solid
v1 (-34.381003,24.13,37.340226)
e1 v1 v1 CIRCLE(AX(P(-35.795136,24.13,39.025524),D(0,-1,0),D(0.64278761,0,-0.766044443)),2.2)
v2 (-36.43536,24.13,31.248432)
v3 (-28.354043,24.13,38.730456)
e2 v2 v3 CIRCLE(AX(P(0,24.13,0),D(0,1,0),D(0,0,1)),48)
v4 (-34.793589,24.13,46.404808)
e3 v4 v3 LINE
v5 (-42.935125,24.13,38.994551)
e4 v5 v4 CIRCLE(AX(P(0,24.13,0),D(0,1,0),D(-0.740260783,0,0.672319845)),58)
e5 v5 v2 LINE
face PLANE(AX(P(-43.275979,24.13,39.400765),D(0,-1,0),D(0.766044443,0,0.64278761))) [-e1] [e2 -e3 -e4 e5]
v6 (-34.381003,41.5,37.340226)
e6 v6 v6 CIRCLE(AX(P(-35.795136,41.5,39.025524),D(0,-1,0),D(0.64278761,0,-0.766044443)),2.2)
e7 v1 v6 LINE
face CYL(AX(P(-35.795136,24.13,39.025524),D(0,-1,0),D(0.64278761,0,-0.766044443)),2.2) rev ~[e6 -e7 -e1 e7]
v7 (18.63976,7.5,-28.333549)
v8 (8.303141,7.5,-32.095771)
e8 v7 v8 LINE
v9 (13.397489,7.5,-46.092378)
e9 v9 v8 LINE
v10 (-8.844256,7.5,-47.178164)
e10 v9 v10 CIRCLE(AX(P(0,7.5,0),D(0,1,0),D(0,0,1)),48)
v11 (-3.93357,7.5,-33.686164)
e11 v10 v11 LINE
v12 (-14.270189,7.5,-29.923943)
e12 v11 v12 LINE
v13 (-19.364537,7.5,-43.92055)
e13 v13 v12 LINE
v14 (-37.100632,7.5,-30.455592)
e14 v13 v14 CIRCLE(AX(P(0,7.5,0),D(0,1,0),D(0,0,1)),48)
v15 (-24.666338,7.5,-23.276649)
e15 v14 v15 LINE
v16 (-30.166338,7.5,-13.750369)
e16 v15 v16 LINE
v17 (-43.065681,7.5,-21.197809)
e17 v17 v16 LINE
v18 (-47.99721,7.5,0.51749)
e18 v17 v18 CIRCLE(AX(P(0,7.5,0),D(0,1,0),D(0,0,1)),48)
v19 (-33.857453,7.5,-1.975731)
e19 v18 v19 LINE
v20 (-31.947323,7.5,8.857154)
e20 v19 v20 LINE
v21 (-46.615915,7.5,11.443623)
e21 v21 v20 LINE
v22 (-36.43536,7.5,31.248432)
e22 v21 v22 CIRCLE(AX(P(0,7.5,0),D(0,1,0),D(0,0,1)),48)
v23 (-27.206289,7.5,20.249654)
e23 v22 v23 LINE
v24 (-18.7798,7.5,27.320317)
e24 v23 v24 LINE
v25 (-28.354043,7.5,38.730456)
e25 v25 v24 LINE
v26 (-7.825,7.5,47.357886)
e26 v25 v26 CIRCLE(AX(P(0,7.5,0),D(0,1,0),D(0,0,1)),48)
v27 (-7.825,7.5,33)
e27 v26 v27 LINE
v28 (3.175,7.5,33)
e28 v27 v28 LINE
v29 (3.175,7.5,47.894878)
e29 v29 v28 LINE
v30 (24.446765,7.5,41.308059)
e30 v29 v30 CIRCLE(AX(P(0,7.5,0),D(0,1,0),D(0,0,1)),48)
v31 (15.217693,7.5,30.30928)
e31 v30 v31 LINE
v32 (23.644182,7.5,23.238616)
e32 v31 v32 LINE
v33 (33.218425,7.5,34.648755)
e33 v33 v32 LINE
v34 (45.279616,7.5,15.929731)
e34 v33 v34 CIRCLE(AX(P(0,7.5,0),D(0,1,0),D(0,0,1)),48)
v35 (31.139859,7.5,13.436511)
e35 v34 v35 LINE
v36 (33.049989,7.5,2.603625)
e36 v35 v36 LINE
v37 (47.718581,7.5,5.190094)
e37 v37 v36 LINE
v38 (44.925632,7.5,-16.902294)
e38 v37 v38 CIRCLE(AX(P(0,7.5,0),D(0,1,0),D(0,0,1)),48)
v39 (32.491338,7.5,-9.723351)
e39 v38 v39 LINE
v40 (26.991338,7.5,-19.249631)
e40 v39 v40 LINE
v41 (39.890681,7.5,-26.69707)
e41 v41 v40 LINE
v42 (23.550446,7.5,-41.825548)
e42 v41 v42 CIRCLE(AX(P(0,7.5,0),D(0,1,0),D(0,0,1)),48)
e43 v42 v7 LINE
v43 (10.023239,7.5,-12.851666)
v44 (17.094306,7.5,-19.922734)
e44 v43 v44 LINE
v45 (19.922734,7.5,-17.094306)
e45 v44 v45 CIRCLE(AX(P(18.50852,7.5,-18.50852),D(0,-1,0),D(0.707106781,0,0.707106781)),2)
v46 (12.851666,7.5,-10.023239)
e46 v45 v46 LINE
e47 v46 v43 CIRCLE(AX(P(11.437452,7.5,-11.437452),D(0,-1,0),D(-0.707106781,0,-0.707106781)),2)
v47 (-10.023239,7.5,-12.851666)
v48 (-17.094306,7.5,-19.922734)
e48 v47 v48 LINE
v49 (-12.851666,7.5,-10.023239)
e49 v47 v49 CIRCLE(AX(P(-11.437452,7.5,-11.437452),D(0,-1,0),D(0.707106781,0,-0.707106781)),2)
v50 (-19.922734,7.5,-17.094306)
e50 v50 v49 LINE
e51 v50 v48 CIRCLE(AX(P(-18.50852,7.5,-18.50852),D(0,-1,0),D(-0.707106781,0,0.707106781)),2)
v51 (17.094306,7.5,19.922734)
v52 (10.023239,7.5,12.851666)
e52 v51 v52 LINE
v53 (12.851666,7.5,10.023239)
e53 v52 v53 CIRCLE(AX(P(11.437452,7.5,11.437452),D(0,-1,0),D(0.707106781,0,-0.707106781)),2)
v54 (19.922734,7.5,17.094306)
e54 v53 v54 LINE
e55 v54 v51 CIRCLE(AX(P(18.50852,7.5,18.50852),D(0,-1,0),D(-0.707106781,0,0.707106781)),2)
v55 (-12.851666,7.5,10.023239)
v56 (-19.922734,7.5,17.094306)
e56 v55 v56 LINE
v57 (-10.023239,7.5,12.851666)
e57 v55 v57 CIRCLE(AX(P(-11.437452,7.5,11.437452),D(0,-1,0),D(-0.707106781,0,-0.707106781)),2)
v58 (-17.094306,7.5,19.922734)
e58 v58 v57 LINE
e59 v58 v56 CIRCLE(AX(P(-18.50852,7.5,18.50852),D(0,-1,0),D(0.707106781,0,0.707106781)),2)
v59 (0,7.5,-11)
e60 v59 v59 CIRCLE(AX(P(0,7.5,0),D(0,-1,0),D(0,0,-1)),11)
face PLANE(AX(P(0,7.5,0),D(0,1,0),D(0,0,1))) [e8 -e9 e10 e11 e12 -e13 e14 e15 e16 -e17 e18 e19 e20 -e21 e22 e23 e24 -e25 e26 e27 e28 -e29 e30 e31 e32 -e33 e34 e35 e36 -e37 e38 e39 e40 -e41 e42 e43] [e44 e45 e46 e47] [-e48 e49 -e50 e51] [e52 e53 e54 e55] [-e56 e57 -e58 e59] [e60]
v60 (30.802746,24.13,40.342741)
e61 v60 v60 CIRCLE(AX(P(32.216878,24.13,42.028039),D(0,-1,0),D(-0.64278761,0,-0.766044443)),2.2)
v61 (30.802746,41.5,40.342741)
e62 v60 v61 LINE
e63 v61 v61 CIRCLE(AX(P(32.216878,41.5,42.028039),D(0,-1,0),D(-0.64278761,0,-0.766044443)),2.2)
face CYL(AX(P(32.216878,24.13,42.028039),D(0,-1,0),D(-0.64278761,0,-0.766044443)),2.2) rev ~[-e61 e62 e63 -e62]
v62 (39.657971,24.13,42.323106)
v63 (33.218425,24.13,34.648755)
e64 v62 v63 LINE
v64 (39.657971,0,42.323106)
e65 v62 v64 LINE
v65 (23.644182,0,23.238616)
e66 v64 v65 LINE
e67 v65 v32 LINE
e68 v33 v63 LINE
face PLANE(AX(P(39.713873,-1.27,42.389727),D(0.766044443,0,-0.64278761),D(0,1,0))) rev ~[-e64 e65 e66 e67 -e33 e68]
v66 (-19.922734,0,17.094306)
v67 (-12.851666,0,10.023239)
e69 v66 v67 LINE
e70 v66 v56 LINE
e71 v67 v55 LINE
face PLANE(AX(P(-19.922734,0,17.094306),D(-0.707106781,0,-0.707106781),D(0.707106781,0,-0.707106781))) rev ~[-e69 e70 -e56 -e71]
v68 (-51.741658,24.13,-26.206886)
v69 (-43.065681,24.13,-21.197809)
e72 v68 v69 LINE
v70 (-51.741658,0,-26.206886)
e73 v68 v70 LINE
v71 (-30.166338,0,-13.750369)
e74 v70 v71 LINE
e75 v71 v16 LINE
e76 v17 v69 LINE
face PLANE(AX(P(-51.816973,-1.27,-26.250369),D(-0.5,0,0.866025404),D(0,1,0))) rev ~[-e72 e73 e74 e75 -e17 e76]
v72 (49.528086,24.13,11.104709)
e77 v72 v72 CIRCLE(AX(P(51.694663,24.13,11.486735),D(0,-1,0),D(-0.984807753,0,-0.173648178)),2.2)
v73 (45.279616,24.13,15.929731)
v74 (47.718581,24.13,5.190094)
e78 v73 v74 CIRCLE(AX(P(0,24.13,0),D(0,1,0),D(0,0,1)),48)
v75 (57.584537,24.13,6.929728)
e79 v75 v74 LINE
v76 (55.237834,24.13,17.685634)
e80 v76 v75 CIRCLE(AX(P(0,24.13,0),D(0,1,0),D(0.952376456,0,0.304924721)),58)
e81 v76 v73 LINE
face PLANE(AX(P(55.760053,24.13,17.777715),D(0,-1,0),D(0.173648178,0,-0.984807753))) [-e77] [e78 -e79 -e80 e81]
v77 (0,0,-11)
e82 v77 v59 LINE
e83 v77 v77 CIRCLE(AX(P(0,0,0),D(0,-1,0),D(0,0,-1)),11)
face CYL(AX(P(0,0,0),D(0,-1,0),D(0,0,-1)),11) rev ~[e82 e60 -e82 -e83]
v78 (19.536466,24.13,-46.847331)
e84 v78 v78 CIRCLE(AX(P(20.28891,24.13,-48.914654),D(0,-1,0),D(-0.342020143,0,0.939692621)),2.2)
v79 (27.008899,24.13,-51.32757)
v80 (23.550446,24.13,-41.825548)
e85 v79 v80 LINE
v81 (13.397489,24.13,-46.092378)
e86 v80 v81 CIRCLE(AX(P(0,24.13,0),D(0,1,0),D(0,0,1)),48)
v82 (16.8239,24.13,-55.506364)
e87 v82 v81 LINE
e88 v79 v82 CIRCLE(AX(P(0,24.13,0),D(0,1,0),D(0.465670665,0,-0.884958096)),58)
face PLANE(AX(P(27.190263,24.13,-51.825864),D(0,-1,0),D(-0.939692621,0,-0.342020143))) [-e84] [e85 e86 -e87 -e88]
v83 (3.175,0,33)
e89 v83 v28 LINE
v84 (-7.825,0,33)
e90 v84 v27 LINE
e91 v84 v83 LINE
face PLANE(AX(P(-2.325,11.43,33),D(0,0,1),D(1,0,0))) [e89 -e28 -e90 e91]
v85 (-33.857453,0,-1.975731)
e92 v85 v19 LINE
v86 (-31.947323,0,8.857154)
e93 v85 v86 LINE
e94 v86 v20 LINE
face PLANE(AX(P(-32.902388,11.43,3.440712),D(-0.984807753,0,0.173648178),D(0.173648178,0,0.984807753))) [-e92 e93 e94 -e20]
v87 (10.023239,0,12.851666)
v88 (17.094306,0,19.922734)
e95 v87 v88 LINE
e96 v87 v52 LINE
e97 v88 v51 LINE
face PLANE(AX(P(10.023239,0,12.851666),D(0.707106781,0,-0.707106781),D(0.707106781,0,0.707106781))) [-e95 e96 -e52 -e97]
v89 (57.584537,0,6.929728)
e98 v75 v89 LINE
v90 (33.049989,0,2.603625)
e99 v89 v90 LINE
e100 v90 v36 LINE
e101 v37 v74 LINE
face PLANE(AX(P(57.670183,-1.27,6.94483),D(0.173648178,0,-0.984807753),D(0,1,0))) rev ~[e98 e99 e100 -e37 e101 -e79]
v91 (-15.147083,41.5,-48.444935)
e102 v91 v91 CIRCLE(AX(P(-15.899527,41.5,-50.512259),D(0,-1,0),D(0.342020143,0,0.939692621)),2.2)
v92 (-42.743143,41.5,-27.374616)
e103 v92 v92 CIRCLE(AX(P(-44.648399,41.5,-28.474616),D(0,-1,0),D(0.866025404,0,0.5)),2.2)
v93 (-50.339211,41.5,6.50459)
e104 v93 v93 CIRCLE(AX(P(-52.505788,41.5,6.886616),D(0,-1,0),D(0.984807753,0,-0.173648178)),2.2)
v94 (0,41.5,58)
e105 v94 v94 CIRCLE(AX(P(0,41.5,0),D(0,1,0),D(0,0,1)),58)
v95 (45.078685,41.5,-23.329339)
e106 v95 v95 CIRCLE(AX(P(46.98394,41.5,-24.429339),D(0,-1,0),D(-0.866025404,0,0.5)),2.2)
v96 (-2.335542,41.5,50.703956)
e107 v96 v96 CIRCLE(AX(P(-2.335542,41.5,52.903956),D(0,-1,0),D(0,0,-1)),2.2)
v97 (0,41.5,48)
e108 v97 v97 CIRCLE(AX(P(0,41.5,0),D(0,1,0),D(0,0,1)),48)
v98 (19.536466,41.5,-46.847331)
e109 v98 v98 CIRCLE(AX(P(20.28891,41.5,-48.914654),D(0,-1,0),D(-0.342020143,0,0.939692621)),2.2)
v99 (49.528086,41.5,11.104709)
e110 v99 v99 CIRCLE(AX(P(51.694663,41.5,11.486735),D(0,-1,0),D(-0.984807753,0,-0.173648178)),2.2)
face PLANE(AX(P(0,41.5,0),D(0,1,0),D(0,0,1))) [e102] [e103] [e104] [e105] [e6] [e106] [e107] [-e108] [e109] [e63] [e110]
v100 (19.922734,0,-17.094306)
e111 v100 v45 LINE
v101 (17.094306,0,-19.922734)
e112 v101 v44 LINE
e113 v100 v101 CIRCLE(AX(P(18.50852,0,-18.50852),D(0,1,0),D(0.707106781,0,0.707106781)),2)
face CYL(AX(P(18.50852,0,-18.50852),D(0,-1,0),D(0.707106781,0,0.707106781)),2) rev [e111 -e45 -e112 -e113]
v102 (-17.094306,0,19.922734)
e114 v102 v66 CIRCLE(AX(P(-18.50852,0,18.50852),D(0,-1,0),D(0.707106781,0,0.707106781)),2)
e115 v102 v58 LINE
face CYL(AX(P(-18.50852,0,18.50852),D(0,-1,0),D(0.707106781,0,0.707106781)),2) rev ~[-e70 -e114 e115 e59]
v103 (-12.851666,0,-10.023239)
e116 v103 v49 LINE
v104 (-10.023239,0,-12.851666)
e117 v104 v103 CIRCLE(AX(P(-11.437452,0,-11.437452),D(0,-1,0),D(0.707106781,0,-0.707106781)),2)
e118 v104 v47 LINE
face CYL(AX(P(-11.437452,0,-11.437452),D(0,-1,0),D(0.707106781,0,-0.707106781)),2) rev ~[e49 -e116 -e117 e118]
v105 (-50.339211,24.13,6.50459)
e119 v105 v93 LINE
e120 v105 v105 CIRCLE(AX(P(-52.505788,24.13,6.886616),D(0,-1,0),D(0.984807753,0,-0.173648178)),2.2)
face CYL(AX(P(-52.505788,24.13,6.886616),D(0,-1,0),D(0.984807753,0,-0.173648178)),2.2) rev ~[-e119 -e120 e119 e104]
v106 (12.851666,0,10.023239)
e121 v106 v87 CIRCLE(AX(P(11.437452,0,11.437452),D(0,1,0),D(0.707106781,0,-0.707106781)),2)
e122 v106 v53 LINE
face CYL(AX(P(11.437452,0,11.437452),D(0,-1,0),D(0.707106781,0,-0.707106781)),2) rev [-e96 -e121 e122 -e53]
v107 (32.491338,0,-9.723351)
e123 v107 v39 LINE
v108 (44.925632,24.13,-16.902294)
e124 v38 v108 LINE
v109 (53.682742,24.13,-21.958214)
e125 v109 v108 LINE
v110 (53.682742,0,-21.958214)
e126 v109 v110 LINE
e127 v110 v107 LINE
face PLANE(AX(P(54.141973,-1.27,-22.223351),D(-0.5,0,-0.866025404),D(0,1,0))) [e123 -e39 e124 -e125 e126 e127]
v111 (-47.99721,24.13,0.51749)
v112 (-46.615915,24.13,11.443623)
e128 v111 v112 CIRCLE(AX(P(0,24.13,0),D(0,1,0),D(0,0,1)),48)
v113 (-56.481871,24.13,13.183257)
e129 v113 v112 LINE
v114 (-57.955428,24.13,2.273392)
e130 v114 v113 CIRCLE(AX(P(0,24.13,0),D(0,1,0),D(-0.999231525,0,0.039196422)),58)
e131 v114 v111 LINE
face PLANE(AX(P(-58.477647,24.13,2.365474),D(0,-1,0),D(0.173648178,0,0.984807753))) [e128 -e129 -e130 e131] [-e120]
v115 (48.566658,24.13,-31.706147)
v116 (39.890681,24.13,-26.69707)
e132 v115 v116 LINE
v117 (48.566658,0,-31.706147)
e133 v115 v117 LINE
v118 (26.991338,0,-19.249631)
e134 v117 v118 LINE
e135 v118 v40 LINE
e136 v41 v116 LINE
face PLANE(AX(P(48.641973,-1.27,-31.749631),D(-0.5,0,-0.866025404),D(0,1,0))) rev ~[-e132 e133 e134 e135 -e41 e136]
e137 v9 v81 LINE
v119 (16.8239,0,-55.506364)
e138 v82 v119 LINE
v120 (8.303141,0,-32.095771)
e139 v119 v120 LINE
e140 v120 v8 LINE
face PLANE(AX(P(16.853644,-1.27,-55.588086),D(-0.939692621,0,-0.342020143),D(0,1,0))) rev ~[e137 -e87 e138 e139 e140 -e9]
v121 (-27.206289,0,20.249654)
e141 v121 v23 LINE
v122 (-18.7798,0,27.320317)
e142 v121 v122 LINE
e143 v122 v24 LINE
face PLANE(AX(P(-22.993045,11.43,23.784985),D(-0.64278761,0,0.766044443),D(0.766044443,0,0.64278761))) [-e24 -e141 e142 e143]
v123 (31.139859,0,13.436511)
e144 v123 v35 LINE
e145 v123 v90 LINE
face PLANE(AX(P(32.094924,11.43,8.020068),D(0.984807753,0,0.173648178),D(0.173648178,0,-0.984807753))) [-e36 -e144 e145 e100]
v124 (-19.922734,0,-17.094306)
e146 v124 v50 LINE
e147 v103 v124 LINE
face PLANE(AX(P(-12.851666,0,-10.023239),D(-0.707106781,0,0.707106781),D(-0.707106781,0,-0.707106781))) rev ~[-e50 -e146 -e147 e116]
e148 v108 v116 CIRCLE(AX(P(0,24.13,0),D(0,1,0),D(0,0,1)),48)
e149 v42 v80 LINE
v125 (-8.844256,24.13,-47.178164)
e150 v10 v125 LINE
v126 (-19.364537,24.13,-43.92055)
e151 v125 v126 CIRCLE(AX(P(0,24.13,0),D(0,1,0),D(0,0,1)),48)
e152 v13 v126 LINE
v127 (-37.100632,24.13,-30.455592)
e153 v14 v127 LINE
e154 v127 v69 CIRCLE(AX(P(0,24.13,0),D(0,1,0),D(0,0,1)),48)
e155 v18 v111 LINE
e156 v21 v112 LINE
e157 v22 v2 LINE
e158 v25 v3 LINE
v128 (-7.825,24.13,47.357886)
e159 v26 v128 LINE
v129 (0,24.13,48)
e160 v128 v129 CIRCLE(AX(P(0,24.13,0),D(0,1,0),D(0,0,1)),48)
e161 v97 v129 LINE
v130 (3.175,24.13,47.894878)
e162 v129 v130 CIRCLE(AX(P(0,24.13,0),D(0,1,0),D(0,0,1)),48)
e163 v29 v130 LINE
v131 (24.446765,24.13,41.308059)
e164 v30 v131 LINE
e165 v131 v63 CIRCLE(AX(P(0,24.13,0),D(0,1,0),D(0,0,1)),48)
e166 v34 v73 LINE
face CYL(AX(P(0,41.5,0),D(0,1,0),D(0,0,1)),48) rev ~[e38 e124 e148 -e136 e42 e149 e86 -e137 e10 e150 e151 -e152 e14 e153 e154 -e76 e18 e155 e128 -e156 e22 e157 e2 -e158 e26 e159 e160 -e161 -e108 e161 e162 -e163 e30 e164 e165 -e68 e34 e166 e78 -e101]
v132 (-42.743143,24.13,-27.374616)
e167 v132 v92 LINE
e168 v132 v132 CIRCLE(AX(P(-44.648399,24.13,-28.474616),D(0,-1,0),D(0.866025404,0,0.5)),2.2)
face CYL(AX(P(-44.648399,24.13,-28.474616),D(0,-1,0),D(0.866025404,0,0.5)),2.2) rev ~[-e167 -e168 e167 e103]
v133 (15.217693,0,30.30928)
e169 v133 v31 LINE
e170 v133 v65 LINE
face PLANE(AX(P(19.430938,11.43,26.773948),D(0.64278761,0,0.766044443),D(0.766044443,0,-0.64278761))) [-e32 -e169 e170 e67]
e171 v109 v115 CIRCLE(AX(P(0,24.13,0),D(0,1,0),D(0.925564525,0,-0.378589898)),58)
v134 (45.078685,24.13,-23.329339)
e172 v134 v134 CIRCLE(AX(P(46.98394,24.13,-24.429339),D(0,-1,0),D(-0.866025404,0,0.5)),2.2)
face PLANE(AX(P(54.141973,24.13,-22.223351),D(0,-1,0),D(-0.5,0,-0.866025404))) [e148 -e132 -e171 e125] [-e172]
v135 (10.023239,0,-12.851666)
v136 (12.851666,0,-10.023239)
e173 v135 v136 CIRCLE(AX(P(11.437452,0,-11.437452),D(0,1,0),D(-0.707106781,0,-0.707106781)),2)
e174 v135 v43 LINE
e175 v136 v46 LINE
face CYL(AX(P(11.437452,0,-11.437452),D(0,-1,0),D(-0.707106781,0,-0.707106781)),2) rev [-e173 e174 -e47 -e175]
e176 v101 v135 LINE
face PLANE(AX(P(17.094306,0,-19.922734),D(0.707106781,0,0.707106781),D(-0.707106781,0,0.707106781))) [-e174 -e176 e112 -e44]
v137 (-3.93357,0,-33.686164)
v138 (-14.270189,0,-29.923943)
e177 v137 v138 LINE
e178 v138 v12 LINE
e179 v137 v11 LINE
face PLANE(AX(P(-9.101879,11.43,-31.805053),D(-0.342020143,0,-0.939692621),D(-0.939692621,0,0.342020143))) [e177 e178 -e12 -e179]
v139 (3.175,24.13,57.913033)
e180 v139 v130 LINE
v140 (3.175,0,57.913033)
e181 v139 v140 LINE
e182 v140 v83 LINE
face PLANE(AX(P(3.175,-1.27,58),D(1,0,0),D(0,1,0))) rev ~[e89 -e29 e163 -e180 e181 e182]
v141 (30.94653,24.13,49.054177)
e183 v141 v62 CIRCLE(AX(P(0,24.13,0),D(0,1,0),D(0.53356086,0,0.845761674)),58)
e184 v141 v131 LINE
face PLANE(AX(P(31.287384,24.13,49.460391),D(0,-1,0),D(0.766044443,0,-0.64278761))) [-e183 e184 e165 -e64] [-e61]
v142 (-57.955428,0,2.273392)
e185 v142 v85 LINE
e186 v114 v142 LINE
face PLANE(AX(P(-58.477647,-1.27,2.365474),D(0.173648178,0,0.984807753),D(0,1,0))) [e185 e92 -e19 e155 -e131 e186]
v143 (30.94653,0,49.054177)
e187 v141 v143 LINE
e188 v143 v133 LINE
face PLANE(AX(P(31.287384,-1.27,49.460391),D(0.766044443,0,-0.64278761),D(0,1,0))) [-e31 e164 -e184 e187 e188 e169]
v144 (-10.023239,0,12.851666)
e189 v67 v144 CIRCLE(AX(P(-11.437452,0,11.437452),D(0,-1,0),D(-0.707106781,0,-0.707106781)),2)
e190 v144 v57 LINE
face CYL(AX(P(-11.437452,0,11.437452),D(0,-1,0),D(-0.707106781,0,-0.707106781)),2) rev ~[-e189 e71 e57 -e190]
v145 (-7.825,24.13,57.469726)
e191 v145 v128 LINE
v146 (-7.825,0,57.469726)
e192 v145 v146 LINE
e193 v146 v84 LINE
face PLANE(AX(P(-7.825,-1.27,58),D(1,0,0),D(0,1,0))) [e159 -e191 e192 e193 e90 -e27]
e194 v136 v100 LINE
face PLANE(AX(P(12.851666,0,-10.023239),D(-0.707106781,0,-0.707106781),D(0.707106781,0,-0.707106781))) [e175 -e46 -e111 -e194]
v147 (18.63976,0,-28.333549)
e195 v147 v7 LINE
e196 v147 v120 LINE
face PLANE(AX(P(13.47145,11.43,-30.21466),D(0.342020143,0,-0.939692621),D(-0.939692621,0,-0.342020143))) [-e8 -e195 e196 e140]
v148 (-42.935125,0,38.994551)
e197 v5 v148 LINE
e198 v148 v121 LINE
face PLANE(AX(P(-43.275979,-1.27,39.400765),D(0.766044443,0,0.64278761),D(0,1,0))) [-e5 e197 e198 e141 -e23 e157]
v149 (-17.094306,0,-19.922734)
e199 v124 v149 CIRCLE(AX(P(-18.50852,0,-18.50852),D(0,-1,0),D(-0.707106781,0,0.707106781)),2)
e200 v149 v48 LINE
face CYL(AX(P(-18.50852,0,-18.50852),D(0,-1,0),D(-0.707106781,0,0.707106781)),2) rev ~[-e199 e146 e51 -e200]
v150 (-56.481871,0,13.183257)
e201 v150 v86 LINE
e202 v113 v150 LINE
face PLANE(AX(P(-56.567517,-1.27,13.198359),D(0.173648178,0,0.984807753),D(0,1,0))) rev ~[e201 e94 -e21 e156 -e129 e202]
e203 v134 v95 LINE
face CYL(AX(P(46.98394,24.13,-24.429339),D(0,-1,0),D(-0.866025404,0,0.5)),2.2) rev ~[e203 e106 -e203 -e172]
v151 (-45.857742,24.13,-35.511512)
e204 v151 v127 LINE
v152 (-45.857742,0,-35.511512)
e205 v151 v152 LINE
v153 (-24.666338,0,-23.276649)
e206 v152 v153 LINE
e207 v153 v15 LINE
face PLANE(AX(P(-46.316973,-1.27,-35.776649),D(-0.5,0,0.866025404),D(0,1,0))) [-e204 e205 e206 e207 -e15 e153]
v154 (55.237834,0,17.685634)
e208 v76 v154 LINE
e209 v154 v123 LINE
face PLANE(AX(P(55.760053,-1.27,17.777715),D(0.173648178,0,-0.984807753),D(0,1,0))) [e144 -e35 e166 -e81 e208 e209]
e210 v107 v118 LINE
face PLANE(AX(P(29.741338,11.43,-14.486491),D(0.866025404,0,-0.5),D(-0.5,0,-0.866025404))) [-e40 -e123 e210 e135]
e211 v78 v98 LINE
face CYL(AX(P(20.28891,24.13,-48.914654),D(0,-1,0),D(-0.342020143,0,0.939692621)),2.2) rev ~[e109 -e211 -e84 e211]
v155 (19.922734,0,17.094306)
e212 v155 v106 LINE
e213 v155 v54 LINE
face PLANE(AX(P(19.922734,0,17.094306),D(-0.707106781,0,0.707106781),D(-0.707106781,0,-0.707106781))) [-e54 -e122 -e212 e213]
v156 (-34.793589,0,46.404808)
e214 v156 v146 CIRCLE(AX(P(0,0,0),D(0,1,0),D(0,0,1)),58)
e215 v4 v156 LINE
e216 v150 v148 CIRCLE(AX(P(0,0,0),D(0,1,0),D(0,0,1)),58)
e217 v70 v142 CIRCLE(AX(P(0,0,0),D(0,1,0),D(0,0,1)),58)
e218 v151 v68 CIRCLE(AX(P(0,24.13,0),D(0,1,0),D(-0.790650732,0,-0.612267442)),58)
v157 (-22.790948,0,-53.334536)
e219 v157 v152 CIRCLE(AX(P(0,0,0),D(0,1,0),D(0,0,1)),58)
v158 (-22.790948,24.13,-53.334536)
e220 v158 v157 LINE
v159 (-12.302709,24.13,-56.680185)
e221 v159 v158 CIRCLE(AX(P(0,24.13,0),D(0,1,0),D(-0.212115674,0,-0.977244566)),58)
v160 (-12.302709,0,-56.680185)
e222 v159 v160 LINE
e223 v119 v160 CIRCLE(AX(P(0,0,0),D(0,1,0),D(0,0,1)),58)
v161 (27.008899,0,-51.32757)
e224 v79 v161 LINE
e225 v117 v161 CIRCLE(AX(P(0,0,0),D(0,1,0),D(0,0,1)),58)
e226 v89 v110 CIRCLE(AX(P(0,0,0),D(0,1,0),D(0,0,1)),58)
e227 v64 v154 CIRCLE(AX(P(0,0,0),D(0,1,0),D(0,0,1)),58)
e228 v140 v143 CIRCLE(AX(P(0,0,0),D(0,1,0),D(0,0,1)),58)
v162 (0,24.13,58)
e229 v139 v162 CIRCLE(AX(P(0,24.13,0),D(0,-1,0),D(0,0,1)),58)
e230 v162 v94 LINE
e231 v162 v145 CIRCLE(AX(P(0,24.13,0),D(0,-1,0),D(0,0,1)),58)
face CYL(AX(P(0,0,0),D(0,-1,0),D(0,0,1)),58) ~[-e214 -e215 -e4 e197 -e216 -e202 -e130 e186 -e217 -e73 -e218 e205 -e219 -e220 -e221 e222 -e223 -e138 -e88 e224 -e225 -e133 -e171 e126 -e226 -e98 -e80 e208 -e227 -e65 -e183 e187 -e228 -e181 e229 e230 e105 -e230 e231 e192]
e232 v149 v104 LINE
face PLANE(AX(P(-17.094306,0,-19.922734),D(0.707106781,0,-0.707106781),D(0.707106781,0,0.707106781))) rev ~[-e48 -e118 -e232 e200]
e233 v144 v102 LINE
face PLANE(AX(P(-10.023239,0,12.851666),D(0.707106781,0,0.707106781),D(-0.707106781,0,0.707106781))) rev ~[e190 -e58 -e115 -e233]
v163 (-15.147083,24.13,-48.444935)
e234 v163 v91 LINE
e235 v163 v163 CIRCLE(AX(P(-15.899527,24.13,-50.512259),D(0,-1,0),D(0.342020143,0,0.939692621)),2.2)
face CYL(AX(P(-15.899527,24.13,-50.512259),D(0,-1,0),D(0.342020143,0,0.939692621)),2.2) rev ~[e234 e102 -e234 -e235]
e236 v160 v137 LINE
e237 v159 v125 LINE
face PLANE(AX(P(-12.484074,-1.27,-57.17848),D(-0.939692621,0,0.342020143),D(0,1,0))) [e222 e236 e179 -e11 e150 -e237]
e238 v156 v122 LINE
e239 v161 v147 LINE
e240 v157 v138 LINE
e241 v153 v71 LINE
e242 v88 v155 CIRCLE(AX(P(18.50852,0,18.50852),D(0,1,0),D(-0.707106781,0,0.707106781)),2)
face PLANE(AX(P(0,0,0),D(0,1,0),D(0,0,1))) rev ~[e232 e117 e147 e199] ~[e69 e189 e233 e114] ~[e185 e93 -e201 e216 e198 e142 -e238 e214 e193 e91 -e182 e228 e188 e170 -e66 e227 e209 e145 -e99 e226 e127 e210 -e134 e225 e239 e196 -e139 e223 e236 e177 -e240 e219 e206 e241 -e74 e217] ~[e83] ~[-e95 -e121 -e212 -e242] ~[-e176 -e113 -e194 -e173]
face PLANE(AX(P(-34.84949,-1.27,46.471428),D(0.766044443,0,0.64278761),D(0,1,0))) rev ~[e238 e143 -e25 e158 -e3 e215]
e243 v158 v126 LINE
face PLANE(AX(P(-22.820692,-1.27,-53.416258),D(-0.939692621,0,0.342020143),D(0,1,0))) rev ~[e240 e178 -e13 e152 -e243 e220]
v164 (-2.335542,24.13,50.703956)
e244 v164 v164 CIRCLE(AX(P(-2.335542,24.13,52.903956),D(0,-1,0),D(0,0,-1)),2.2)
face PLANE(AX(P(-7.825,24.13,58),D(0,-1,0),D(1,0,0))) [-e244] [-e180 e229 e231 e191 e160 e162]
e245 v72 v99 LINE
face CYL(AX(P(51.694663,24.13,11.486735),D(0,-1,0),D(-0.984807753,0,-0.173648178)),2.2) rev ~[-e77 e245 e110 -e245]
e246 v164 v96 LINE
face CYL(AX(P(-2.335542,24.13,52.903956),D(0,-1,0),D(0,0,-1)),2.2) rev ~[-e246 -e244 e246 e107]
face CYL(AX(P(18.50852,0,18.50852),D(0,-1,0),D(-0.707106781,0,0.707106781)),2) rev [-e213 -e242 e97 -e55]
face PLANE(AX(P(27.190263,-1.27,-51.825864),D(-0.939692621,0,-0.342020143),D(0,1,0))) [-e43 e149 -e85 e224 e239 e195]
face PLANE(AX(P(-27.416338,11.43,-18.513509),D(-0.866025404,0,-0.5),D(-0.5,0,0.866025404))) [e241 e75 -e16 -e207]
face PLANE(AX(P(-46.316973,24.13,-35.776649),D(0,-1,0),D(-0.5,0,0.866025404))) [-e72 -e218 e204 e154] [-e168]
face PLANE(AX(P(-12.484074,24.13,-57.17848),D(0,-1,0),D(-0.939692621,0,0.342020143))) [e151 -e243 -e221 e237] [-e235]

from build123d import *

# Parameters (mm, degrees)
SKETCH2_R           = 58
BOSS_EXTRUDE1_DEPTH = 41.5
SKETCH3_R           = 48
CUT_EXTRUDE1_DEPTH  = 34
SKETCH4_R           = 3.175
CUT_EXTRUDE2_DEPTH  = 89.791891522
CUT_EXTRUDE3_DEPTH  = 92.925241365
SKETCH6_W           = 11
SKETCH6_H           = 25.4
CUT_EXTRUDE4_DEPTH  = 25
CIRPATTERN1_COUNT   = 9
SKETCH7_R           = 2.2
CUT_EXTRUDE5_DEPTH  = 86.500040351
CIRPATTERN2_COUNT   = 9
SKETCH8_R           = 11
CUT_EXTRUDE6_DEPTH  = 92.925241365


with BuildPart() as part:
    # Sketch2 → Boss-Extrude1 (new body)
    with BuildSketch(Plane(origin=(0, 0, 0), x_dir=(1, 0, 0), z_dir=(0, 1, 0))):
        with Locations(Location((0, 0, 0), (0, 0, 270))):
            Circle(SKETCH2_R)
    extrude(amount=BOSS_EXTRUDE1_DEPTH)

    # Sketch3 → Cut-Extrude1 (cut)
    with BuildSketch(Plane(origin=(0, 41.5, 0), x_dir=(1, 0, 0), z_dir=(0, 1, 0))):
        with Locations(Location((0, 0, 0), (0, 0, 270))):
            Circle(SKETCH3_R)
    extrude(amount=-CUT_EXTRUDE1_DEPTH, mode=Mode.SUBTRACT)

    # Sketch4 → Cut-Extrude2 (cut, through all)
    with BuildSketch(Plane(origin=(0, 7.5, 0), x_dir=(1, 0, 0), z_dir=(0, 1, 0))):
        with Locations(Location((0, 0, 0), (0, 0, 270))):
            Circle(SKETCH4_R)
    extrude(amount=-CUT_EXTRUDE2_DEPTH, mode=Mode.SUBTRACT)

    # Sketch5 → Cut-Extrude3 (cut, through all)
    with BuildSketch(Plane.XZ):
        with BuildLine():
            Line((12.851665748, -10.023238623), (19.92273356, -17.094306435))
            ThreePointArc((19.92273356, -17.094306435), (19.92273356, -19.92273356), (17.094306435, -19.92273356))
            Line((17.094306435, -19.92273356), (10.023238623, -12.851665748))
            ThreePointArc((10.023238623, -12.851665748), (10.023238623, -10.023238623), (12.851665748, -10.023238623))
        make_face()
        with BuildLine():
            Line((10.023238623, 12.851665748), (17.094306435, 19.92273356))
            ThreePointArc((17.094306435, 19.92273356), (19.92273356, 19.92273356), (19.92273356, 17.094306435))
            Line((19.92273356, 17.094306435), (12.851665748, 10.023238623))
            ThreePointArc((12.851665748, 10.023238623), (10.023238623, 10.023238623), (10.023238623, 12.851665748))
        make_face()
        with BuildLine():
            Line((-10.023238623, 12.851665748), (-17.094306435, 19.92273356))
            ThreePointArc((-17.094306435, 19.92273356), (-19.92273356, 19.92273356), (-19.92273356, 17.094306435))
            Line((-19.92273356, 17.094306435), (-12.851665748, 10.023238623))
            ThreePointArc((-12.851665748, 10.023238623), (-10.023238623, 10.023238623), (-10.023238623, 12.851665748))
        make_face()
        with BuildLine():
            Line((-12.851665748, -10.023238623), (-19.92273356, -17.094306435))
            ThreePointArc((-19.92273356, -17.094306435), (-19.92273356, -19.92273356), (-17.094306435, -19.92273356))
            Line((-17.094306435, -19.92273356), (-10.023238623, -12.851665748))
            ThreePointArc((-10.023238623, -12.851665748), (-10.023238623, -10.023238623), (-12.851665748, -10.023238623))
        make_face()
    extrude(amount=-CUT_EXTRUDE3_DEPTH, mode=Mode.SUBTRACT)

    # Sketch6 → Cut-Extrude4 (cut)
    with BuildSketch(Plane.XY.offset(58.000000078)):
        with Locations((-2.325, 11.43)):
            Rectangle(SKETCH6_W, SKETCH6_H)
    cut_extrude4 = extrude(amount=-CUT_EXTRUDE4_DEPTH, mode=Mode.SUBTRACT)

    # CirPattern1: Cut-Extrude4 ×9 about axis
    cirpattern1_axis = Axis((0, 0, 0), (0, 1, 0))
    for i in range(1, CIRPATTERN1_COUNT):
        add(cut_extrude4.rotate(cirpattern1_axis, i * 360 / CIRPATTERN1_COUNT), mode=Mode.SUBTRACT)

    # Sketch7 → Cut-Extrude5 (cut, through all)
    with BuildSketch(Plane.XZ.offset(-24.13)):
        with Locations(Location((-2.335541758, 52.90395562, 0), (0, 0, 270))):
            Circle(SKETCH7_R)
    cut_extrude5 = extrude(amount=-CUT_EXTRUDE5_DEPTH, mode=Mode.SUBTRACT)

    # CirPattern2: Cut-Extrude5 ×9 about axis
    cirpattern2_axis = Axis((0, 0, 0), (0, 1, 0))
    for i in range(1, CIRPATTERN2_COUNT):
        add(cut_extrude5.rotate(cirpattern2_axis, i * 360 / CIRPATTERN2_COUNT), mode=Mode.SUBTRACT)

    # Sketch8 → Cut-Extrude6 (cut, through all)
    with BuildSketch(Plane.XZ):
        with Locations(Location((0, 0, 0), (0, 0, 270))):
            Circle(SKETCH8_R)
    extrude(amount=-CUT_EXTRUDE6_DEPTH, mode=Mode.SUBTRACT)


solid = part.part
